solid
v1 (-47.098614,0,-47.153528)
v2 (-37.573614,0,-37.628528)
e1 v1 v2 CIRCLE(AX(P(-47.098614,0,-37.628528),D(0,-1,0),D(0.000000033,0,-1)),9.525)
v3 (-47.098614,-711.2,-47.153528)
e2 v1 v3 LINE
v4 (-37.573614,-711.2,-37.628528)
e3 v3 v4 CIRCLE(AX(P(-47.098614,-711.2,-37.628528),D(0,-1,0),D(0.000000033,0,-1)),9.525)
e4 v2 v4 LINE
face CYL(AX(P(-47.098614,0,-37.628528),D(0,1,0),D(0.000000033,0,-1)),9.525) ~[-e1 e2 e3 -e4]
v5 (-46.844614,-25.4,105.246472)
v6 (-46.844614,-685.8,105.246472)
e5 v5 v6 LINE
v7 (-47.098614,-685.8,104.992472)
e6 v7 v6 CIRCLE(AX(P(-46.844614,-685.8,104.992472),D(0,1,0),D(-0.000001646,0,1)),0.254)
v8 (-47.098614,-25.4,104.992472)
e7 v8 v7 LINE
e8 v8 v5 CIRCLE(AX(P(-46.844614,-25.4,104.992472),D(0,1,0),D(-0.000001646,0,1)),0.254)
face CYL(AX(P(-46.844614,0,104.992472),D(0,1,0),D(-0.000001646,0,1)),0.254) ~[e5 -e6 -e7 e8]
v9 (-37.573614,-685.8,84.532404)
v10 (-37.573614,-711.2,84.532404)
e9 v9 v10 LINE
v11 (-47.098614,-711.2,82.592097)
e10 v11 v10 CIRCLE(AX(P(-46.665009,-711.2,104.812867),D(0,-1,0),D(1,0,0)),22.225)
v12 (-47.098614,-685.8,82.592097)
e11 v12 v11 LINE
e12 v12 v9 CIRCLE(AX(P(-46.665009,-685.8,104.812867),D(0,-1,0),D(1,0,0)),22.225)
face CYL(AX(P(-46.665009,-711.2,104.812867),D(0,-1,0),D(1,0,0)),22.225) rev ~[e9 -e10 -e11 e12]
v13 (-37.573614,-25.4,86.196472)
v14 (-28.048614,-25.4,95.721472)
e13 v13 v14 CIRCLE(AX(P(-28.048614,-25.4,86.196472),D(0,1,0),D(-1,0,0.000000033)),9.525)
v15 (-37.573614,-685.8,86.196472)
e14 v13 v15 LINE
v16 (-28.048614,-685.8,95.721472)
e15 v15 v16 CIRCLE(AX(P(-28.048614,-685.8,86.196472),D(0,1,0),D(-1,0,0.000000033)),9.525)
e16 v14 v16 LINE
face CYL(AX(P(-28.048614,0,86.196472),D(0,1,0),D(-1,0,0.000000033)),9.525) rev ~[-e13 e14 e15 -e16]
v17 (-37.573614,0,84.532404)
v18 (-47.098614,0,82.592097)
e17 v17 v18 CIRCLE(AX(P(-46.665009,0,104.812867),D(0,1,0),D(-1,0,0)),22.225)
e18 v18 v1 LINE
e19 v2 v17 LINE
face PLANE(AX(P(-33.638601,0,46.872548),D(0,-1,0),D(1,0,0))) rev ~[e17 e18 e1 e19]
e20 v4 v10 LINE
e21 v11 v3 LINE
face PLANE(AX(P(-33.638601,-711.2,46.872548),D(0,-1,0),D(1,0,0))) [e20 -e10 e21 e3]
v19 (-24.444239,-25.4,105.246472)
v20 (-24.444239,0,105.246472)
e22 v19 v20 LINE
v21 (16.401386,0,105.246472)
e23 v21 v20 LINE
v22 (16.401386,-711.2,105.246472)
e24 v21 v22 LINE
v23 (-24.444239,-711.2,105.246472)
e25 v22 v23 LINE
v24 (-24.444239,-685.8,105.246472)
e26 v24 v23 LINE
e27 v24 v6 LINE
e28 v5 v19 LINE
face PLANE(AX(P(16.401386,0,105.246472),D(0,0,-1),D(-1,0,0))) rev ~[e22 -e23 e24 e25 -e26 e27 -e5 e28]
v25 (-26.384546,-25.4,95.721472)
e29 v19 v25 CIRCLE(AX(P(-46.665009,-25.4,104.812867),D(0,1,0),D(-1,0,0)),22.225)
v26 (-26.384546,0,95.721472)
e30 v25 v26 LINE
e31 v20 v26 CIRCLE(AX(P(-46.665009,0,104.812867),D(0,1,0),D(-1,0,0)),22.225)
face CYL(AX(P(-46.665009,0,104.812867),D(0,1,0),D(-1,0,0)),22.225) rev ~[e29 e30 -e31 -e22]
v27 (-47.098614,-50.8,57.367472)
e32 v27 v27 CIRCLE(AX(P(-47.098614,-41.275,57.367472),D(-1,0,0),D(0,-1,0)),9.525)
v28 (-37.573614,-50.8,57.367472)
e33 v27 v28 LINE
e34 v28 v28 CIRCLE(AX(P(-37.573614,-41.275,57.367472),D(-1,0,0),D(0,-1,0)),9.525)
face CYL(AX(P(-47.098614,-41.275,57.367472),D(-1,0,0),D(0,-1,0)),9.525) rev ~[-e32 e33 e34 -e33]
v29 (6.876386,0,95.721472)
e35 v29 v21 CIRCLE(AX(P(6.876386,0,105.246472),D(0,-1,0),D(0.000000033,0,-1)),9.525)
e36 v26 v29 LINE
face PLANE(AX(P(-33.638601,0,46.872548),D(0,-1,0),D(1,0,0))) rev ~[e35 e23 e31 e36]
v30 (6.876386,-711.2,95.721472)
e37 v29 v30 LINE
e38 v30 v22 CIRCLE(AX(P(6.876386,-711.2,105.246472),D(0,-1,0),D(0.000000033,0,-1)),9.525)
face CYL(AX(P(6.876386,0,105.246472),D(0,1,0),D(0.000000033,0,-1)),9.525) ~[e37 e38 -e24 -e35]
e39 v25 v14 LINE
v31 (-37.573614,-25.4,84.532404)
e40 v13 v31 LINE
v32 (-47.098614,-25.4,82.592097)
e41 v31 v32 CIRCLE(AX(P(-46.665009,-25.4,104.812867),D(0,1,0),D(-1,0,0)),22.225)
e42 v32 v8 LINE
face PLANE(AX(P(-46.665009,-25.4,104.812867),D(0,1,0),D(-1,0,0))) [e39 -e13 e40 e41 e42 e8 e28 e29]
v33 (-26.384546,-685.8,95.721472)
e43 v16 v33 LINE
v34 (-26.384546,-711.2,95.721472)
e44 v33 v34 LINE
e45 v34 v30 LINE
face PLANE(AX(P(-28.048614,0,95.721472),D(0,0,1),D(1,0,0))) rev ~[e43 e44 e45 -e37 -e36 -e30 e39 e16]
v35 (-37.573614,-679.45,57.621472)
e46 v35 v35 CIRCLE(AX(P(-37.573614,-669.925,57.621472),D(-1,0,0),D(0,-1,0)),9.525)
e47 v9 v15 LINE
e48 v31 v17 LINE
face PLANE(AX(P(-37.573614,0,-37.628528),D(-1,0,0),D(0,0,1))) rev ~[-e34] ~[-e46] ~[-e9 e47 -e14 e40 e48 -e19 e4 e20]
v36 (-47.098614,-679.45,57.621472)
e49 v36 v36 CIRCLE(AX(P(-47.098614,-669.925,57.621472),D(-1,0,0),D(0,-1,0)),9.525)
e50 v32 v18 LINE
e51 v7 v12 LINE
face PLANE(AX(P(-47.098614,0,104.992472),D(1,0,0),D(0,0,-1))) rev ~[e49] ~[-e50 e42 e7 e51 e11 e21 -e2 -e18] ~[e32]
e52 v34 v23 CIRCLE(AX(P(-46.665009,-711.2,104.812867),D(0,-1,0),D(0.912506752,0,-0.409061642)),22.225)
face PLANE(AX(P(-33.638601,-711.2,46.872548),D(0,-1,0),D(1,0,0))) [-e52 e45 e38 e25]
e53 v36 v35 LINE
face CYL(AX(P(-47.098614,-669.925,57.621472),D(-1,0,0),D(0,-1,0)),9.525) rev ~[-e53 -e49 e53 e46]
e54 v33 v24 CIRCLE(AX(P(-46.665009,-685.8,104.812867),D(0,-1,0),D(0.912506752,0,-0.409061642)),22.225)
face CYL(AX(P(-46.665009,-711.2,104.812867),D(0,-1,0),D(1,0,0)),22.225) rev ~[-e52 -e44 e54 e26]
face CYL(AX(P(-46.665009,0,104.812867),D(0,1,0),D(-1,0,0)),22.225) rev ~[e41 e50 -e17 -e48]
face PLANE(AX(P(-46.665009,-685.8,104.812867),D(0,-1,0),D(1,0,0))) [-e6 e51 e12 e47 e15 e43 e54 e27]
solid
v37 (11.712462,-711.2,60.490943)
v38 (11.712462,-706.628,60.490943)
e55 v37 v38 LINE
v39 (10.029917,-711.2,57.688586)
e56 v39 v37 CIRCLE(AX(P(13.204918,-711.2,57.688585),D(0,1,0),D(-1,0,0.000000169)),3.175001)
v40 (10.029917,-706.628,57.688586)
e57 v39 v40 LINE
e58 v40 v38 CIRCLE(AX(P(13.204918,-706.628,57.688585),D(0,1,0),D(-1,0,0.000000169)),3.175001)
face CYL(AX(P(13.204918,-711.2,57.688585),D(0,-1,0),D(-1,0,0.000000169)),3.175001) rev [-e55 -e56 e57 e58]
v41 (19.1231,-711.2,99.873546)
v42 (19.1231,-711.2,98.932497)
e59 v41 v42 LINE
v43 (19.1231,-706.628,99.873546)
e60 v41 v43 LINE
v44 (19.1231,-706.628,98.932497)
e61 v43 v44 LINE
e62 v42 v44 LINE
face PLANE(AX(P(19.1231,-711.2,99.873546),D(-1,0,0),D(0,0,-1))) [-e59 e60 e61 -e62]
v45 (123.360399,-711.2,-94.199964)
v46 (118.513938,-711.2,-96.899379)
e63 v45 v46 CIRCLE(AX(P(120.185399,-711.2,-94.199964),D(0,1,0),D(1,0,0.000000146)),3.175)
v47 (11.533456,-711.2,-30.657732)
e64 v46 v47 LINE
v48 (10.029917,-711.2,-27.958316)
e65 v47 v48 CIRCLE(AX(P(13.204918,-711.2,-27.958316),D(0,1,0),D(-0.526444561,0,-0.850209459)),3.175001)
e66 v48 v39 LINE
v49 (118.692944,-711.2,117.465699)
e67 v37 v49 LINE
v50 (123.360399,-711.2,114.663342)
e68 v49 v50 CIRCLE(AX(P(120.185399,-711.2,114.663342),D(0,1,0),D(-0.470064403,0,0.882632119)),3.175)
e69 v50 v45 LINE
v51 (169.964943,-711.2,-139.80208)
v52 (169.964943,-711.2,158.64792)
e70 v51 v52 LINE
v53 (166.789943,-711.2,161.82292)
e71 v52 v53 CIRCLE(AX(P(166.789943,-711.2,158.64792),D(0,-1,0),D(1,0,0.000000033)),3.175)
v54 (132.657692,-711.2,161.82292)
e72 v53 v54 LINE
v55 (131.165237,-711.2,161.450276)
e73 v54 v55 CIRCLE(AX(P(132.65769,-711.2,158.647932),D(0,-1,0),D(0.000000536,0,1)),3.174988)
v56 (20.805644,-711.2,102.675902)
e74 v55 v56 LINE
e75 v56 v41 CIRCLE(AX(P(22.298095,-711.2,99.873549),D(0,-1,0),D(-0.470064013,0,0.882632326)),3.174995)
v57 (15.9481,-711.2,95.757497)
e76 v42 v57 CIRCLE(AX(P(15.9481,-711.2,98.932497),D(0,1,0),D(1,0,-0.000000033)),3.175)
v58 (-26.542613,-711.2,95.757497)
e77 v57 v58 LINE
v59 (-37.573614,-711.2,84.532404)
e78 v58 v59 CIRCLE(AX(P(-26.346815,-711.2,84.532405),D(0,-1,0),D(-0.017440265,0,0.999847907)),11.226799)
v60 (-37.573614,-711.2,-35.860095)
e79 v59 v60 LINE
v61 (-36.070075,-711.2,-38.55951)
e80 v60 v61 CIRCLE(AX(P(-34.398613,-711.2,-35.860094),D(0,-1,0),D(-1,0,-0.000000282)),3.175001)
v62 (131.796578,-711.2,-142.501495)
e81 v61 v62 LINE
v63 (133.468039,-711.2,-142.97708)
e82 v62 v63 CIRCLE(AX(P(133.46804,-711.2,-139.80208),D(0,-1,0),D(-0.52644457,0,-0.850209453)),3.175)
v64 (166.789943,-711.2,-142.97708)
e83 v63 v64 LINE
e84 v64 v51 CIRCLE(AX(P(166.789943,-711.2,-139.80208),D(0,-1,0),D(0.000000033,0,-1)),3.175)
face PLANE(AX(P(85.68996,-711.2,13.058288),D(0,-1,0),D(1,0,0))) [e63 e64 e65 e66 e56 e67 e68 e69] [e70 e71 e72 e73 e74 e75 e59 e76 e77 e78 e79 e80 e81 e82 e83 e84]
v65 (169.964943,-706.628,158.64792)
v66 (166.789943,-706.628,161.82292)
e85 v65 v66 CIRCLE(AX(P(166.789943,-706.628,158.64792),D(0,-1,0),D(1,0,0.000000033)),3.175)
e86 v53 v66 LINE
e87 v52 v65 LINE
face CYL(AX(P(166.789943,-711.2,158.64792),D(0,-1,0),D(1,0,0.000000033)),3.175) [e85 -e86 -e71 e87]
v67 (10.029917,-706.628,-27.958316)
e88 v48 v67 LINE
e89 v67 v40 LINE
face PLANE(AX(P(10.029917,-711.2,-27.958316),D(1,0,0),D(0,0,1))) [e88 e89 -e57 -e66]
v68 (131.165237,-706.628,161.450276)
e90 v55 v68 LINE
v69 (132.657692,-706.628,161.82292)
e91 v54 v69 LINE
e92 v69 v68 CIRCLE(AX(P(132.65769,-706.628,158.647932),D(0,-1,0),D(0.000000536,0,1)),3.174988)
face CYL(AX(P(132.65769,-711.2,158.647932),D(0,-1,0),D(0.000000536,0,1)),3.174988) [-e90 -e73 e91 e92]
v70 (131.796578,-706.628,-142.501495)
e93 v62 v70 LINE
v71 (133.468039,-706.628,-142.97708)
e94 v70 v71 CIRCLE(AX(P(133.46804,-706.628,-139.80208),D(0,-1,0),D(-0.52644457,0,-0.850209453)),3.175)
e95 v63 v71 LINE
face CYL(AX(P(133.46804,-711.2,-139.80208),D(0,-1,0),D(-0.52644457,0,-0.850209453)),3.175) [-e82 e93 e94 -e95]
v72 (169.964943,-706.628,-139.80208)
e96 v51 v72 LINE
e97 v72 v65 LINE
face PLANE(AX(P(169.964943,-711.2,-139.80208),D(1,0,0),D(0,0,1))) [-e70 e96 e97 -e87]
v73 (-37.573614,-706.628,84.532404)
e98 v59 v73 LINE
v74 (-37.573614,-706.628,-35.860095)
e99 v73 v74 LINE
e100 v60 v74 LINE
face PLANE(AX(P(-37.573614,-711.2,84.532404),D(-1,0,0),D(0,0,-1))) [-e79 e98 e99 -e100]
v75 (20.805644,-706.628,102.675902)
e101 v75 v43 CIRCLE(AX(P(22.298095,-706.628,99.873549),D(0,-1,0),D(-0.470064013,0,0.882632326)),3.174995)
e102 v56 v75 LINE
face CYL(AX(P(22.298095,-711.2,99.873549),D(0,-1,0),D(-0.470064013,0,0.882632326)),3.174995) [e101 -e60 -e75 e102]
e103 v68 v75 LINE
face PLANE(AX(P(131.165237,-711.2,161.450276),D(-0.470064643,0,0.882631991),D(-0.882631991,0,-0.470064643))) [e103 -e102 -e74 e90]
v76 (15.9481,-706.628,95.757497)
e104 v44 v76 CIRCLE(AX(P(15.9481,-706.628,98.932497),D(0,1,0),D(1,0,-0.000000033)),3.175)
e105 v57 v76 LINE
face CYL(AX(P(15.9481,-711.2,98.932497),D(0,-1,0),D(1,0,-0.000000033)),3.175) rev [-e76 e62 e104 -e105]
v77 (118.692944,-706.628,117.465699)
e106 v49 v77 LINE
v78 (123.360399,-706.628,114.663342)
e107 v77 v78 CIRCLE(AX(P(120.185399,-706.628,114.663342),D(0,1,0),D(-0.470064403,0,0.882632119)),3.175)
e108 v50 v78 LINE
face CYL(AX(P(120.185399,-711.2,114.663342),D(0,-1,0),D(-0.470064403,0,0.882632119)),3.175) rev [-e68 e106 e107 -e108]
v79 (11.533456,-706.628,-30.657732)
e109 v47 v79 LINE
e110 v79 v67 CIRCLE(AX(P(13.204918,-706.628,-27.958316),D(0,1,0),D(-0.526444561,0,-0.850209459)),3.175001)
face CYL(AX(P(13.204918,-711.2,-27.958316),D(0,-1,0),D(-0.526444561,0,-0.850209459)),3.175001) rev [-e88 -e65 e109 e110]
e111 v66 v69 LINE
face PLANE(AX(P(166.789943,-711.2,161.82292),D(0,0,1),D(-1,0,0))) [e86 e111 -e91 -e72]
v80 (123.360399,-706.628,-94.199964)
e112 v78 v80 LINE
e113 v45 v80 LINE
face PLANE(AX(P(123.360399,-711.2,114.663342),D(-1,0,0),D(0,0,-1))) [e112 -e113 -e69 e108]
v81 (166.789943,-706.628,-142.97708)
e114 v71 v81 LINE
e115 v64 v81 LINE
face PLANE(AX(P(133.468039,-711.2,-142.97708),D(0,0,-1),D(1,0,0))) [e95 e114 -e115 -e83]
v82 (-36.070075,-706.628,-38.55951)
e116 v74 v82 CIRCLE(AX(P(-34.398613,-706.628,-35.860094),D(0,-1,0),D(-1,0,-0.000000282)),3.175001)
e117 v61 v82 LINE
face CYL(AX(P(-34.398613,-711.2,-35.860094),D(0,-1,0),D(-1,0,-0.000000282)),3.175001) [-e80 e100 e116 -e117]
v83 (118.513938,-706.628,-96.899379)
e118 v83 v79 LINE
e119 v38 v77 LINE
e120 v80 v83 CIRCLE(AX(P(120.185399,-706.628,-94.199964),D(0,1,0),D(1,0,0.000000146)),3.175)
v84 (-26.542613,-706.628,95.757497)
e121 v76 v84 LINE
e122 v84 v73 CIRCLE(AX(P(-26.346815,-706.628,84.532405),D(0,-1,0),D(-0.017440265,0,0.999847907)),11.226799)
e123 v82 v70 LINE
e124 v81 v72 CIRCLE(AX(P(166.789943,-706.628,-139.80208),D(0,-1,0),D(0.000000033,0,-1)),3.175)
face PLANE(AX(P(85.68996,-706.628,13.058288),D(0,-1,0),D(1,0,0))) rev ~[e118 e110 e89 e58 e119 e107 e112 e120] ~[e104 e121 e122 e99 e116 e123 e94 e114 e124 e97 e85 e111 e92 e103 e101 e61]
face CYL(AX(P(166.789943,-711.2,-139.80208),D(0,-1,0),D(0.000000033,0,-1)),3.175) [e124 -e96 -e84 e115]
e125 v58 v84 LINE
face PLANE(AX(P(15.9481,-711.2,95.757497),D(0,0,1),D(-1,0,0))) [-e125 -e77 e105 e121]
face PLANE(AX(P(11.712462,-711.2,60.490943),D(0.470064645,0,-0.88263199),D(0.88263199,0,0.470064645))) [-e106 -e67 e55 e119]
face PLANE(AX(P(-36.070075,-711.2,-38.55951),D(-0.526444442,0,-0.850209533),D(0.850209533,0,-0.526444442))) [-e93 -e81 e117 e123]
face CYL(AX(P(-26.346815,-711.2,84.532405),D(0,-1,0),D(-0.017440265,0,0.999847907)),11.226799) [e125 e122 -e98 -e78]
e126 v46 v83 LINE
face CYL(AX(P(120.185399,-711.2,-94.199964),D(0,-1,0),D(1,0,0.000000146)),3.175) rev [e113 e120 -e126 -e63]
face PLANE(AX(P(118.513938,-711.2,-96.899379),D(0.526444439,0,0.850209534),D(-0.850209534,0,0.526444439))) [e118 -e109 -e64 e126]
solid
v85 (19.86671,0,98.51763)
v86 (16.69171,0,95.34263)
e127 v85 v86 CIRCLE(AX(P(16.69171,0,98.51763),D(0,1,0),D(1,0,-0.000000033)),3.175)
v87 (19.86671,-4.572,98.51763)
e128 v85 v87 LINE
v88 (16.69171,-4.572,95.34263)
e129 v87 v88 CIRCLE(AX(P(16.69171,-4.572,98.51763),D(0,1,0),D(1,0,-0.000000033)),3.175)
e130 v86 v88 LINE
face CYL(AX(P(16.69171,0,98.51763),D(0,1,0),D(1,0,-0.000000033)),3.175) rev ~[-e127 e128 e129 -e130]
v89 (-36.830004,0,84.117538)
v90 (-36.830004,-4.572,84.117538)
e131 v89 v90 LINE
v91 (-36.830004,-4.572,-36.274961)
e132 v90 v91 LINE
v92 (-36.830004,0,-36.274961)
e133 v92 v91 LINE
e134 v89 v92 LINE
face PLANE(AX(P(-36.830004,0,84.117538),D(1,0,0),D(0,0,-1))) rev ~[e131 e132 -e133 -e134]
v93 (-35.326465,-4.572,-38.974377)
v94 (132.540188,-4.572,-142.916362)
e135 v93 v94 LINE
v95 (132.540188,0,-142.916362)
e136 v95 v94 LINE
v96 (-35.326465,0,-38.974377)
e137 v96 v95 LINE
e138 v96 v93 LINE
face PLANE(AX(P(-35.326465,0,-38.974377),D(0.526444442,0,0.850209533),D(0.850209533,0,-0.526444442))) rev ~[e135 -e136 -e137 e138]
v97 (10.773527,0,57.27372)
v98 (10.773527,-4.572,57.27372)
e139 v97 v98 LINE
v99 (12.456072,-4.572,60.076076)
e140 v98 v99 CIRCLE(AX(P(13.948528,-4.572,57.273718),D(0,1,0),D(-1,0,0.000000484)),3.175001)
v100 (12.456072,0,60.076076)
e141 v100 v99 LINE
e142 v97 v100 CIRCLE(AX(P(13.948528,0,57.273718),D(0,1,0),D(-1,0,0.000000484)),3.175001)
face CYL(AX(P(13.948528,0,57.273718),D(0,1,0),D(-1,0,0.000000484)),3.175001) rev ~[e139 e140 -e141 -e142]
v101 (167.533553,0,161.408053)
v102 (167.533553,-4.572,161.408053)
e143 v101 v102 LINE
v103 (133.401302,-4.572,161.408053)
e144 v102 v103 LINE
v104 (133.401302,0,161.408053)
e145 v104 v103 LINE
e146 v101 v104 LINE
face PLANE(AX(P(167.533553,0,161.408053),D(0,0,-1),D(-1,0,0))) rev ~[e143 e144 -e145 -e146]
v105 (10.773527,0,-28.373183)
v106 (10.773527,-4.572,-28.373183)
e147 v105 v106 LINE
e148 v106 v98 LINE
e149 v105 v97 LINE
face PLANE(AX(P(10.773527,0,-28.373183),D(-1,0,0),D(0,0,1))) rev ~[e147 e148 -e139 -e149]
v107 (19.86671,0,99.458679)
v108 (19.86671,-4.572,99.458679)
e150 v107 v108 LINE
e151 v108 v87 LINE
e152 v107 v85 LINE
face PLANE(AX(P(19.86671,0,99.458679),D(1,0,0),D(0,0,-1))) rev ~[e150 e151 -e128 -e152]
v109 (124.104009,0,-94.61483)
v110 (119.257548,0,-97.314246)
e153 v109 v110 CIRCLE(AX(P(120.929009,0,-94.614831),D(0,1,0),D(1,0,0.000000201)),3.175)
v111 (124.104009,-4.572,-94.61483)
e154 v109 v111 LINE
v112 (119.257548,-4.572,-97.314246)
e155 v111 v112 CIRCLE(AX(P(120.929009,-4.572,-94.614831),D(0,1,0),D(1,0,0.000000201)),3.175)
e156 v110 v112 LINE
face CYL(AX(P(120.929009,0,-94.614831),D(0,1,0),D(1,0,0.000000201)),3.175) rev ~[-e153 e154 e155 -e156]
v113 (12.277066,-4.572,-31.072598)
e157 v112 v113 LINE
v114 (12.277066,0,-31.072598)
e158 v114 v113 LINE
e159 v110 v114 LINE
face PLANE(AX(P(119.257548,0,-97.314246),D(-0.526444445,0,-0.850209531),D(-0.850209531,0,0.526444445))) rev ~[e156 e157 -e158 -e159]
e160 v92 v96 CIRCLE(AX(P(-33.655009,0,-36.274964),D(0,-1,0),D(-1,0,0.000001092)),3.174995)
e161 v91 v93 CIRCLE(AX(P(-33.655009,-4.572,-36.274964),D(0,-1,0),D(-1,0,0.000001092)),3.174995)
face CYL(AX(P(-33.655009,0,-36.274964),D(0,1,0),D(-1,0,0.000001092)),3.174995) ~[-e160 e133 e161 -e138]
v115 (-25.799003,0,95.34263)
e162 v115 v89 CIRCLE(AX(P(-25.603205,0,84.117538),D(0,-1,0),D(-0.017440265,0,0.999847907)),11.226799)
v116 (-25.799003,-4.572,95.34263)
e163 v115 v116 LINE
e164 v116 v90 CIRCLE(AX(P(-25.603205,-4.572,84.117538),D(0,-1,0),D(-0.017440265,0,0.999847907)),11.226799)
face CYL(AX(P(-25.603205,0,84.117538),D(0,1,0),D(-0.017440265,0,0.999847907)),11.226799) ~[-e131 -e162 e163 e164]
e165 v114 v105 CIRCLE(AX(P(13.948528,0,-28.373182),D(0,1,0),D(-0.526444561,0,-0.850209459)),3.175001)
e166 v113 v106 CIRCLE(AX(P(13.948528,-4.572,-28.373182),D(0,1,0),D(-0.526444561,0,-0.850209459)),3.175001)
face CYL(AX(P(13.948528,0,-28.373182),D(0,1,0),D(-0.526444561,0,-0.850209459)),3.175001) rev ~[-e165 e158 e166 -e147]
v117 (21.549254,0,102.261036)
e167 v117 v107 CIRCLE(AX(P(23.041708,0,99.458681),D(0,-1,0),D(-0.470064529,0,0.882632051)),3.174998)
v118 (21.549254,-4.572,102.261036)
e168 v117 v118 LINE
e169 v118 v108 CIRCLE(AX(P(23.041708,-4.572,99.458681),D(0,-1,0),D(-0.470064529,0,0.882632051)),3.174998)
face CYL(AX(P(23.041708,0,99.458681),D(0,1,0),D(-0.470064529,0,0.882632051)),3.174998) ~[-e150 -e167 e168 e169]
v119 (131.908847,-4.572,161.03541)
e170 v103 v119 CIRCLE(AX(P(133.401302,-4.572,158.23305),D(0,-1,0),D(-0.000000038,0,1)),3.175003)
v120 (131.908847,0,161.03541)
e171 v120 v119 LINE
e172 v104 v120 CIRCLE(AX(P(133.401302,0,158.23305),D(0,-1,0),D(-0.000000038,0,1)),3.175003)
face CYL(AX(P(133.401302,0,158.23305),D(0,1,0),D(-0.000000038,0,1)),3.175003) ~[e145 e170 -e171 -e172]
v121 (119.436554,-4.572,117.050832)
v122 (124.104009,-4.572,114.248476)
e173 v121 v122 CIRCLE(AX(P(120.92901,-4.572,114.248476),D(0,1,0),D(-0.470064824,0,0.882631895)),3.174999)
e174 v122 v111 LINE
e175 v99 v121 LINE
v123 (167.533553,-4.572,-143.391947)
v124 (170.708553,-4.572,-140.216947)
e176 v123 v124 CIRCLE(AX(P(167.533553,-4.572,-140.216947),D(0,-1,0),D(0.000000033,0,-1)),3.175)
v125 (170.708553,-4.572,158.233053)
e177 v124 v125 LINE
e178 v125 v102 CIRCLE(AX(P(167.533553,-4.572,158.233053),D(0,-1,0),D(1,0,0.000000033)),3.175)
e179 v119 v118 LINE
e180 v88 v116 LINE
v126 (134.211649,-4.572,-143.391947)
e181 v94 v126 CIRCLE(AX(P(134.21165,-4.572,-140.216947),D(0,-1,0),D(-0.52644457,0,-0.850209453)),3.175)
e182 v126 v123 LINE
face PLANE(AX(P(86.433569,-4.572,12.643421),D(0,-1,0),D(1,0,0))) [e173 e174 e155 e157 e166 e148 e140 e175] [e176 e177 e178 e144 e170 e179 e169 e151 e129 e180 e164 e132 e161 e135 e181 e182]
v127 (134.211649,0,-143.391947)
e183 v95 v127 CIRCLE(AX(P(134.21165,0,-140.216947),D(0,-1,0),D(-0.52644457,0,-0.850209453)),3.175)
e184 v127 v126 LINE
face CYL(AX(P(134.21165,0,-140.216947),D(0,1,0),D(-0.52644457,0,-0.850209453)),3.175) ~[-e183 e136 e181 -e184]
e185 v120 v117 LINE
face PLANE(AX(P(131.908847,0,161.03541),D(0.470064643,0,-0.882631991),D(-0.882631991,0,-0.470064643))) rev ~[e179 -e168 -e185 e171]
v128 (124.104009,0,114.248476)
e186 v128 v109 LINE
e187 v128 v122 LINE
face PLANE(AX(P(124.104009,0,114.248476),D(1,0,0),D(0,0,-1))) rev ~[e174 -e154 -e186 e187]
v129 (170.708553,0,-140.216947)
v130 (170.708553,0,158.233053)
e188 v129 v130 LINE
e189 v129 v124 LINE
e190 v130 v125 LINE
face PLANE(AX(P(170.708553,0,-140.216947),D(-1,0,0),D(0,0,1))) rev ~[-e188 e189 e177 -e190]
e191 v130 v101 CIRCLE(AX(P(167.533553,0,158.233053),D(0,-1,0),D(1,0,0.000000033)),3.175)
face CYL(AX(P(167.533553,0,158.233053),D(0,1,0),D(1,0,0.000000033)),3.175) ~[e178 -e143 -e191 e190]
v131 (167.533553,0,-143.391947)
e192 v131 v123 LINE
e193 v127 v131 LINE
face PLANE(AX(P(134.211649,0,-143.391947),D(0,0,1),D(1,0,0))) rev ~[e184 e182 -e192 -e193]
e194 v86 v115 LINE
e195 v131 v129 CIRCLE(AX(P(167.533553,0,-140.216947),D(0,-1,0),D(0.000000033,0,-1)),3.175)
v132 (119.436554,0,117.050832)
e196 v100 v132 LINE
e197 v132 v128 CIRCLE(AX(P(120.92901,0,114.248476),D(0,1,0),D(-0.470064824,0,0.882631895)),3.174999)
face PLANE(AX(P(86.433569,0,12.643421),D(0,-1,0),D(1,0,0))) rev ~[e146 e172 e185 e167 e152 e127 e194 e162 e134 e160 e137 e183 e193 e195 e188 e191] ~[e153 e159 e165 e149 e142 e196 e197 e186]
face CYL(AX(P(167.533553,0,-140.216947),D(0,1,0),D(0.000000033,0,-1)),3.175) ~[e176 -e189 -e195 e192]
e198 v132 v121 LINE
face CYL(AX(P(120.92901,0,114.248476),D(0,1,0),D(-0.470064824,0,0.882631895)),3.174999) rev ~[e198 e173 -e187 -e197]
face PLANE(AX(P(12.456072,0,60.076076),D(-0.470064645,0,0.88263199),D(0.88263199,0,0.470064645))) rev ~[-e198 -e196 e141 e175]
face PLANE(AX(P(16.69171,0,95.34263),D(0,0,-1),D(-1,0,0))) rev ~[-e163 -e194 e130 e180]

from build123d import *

# Parameters (mm, degrees)
F1_DEPTH  = 711.2
F2_R      = 22.225
F3_DEPTH  = 25.4
F4_R      = 22.225
F5_DEPTH  = 25.4
F6_R      = 9.525
F7_DEPTH  = 63.501
F9_DEPTH  = 4.572
F11_DEPTH = 4.572


with BuildPart() as f1:
    # F0 (on Front) → F1 (new body)
    with BuildSketch(Plane.XZ):
        with BuildLine():
            ThreePointArc((-46.844614, 105.246472), (-47.024219, 105.172077), (-47.098614, 104.992472))
            Line((-47.098614, 104.992472), (-47.098614, -47.153528))
            ThreePointArc((-47.098614, -47.153528), (-40.363422, -44.36372), (-37.573614, -37.628528))
            Line((-37.573614, -37.628528), (-37.573614, 86.196472))
            ThreePointArc((-37.573614, 86.196472), (-34.783806, 92.931664), (-28.048614, 95.721472))
            Line((-28.048614, 95.721472), (6.876386, 95.721472))
            ThreePointArc((6.876386, 95.721472), (13.611578, 98.51128), (16.401386, 105.246472))
            Line((16.401386, 105.246472), (-46.844614, 105.246472))
        make_face()
    extrude(amount=F1_DEPTH)

    # F2 (on face) → F3 (cut)
    with BuildSketch(Plane.XZ.offset(711.2)):
        with Locations((-46.665009, 104.812867)):
            Circle(F2_R)
    extrude(amount=-F3_DEPTH, mode=Mode.SUBTRACT)

    # F4 (on face) → F5 (cut)
    with BuildSketch(Plane(origin=(0, 0, 0), x_dir=(-1, 0, 0), z_dir=(0, 1, 0))):
        with Locations((46.665009, 104.812867)):
            Circle(F4_R)
    extrude(amount=-F5_DEPTH, mode=Mode.SUBTRACT)

    # F6 (on face) → F7 (cut, through all)
    with BuildSketch(Plane(origin=(-47.098614, 0, 0), x_dir=(0, -1, 0), z_dir=(-1, 0, 0))):
        with Locations((41.275, 57.367472)):
            Circle(F6_R)
        with Locations((669.925, 57.621472)):
            Circle(F6_R)
    extrude(amount=-F7_DEPTH, mode=Mode.SUBTRACT)


with BuildPart() as f9:
    # F8 (on face) → F9 (new body)
    with BuildSketch(Plane.XZ.offset(711.2)):
        with BuildLine():
            Line((131.165237, 161.450276), (20.805644, 102.675902))
            ThreePointArc((20.805644, 102.675902), (19.576044, 101.507878), (19.1231, 99.873546))
            Line((19.1231, 99.873546), (19.1231, 98.932497))
            ThreePointArc((19.1231, 98.932497), (18.193164, 96.687433), (15.9481, 95.757497))
            Line((15.9481, 95.757497), (-26.542613, 95.757497))
            ThreePointArc((-26.542613, 95.757497), (-34.354287, 92.401421), (-37.573614, 84.532404))
            Line((-37.573614, 84.532404), (-37.573614, -35.860095))
            ThreePointArc((-37.573614, -35.860095), (-37.172376, -37.405044), (-36.070075, -38.55951))
            Line((-36.070075, -38.55951), (131.796578, -142.501495))
            ThreePointArc((131.796578, -142.501495), (132.599137, -142.85587), (133.468039, -142.97708))
            Line((133.468039, -142.97708), (166.789943, -142.97708))
            ThreePointArc((166.789943, -142.97708), (169.035007, -142.047144), (169.964943, -139.80208))
            Line((169.964943, -139.80208), (169.964943, 158.64792))
            ThreePointArc((169.964943, 158.64792), (169.035007, 160.892984), (166.789943, 161.82292))
            Line((166.789943, 161.82292), (132.657692, 161.82292))
            ThreePointArc((132.657692, 161.82292), (131.888556, 161.728351), (131.165237, 161.450276))
        make_face()
        with BuildLine():
            ThreePointArc((118.692944, 117.465699), (121.819731, 117.385397), (123.360399, 114.663342))
            Line((123.360399, 114.663342), (123.360399, -94.199964))
            ThreePointArc((123.360399, -94.199964), (121.730349, -96.973726), (118.513938, -96.899379))
            Line((118.513938, -96.899379), (11.533456, -30.657732))
            ThreePointArc((11.533456, -30.657732), (10.431155, -29.503266), (10.029917, -27.958316))
            Line((10.029917, -27.958316), (10.029917, 57.688586))
            ThreePointArc((10.029917, 57.688586), (10.482862, 59.322918), (11.712462, 60.490943))
            Line((11.712462, 60.490943), (118.692944, 117.465699))
        make_face(mode=Mode.SUBTRACT)
    extrude(amount=-F9_DEPTH)


with BuildPart() as f11:
    # F10 (on Front) → F11 (new body)
    with BuildSketch(Plane.XZ):
        with BuildLine():
            Line((131.908847, 161.03541), (21.549254, 102.261036))
            ThreePointArc((21.549254, 102.261036), (20.319654, 101.093011), (19.86671, 99.458679))
            Line((19.86671, 99.458679), (19.86671, 98.51763))
            ThreePointArc((19.86671, 98.51763), (18.936774, 96.272566), (16.69171, 95.34263))
            Line((16.69171, 95.34263), (-25.799003, 95.34263))
            ThreePointArc((-25.799003, 95.34263), (-33.610677, 91.986554), (-36.830004, 84.117538))
            Line((-36.830004, 84.117538), (-36.830004, -36.274961))
            ThreePointArc((-36.830004, -36.274961), (-36.428767, -37.819911), (-35.326465, -38.974377))
            Line((-35.326465, -38.974377), (132.540188, -142.916362))
            ThreePointArc((132.540188, -142.916362), (133.342747, -143.270737), (134.211649, -143.391947))
            Line((134.211649, -143.391947), (167.533553, -143.391947))
            ThreePointArc((167.533553, -143.391947), (169.778617, -142.462011), (170.708553, -140.216947))
            Line((170.708553, -140.216947), (170.708553, 158.233053))
            ThreePointArc((170.708553, 158.233053), (169.778617, 160.478117), (167.533553, 161.408053))
            Line((167.533553, 161.408053), (133.401302, 161.408053))
            ThreePointArc((133.401302, 161.408053), (132.632166, 161.313484), (131.908847, 161.03541))
        make_face()
        with BuildLine():
            ThreePointArc((119.436554, 117.050832), (122.563341, 116.970531), (124.104009, 114.248476))
            Line((124.104009, 114.248476), (124.104009, -94.61483))
            ThreePointArc((124.104009, -94.61483), (122.473958, -97.388593), (119.257548, -97.314246))
            Line((119.257548, -97.314246), (12.277066, -31.072598))
            ThreePointArc((12.277066, -31.072598), (11.174765, -29.918132), (10.773527, -28.373183))
            Line((10.773527, -28.373183), (10.773527, 57.27372))
            ThreePointArc((10.773527, 57.27372), (11.226472, 58.908051), (12.456072, 60.076076))
            Line((12.456072, 60.076076), (119.436554, 117.050832))
        make_face(mode=Mode.SUBTRACT)
    extrude(amount=F11_DEPTH)


solid = Compound([f1.part, f9.part, f11.part])
